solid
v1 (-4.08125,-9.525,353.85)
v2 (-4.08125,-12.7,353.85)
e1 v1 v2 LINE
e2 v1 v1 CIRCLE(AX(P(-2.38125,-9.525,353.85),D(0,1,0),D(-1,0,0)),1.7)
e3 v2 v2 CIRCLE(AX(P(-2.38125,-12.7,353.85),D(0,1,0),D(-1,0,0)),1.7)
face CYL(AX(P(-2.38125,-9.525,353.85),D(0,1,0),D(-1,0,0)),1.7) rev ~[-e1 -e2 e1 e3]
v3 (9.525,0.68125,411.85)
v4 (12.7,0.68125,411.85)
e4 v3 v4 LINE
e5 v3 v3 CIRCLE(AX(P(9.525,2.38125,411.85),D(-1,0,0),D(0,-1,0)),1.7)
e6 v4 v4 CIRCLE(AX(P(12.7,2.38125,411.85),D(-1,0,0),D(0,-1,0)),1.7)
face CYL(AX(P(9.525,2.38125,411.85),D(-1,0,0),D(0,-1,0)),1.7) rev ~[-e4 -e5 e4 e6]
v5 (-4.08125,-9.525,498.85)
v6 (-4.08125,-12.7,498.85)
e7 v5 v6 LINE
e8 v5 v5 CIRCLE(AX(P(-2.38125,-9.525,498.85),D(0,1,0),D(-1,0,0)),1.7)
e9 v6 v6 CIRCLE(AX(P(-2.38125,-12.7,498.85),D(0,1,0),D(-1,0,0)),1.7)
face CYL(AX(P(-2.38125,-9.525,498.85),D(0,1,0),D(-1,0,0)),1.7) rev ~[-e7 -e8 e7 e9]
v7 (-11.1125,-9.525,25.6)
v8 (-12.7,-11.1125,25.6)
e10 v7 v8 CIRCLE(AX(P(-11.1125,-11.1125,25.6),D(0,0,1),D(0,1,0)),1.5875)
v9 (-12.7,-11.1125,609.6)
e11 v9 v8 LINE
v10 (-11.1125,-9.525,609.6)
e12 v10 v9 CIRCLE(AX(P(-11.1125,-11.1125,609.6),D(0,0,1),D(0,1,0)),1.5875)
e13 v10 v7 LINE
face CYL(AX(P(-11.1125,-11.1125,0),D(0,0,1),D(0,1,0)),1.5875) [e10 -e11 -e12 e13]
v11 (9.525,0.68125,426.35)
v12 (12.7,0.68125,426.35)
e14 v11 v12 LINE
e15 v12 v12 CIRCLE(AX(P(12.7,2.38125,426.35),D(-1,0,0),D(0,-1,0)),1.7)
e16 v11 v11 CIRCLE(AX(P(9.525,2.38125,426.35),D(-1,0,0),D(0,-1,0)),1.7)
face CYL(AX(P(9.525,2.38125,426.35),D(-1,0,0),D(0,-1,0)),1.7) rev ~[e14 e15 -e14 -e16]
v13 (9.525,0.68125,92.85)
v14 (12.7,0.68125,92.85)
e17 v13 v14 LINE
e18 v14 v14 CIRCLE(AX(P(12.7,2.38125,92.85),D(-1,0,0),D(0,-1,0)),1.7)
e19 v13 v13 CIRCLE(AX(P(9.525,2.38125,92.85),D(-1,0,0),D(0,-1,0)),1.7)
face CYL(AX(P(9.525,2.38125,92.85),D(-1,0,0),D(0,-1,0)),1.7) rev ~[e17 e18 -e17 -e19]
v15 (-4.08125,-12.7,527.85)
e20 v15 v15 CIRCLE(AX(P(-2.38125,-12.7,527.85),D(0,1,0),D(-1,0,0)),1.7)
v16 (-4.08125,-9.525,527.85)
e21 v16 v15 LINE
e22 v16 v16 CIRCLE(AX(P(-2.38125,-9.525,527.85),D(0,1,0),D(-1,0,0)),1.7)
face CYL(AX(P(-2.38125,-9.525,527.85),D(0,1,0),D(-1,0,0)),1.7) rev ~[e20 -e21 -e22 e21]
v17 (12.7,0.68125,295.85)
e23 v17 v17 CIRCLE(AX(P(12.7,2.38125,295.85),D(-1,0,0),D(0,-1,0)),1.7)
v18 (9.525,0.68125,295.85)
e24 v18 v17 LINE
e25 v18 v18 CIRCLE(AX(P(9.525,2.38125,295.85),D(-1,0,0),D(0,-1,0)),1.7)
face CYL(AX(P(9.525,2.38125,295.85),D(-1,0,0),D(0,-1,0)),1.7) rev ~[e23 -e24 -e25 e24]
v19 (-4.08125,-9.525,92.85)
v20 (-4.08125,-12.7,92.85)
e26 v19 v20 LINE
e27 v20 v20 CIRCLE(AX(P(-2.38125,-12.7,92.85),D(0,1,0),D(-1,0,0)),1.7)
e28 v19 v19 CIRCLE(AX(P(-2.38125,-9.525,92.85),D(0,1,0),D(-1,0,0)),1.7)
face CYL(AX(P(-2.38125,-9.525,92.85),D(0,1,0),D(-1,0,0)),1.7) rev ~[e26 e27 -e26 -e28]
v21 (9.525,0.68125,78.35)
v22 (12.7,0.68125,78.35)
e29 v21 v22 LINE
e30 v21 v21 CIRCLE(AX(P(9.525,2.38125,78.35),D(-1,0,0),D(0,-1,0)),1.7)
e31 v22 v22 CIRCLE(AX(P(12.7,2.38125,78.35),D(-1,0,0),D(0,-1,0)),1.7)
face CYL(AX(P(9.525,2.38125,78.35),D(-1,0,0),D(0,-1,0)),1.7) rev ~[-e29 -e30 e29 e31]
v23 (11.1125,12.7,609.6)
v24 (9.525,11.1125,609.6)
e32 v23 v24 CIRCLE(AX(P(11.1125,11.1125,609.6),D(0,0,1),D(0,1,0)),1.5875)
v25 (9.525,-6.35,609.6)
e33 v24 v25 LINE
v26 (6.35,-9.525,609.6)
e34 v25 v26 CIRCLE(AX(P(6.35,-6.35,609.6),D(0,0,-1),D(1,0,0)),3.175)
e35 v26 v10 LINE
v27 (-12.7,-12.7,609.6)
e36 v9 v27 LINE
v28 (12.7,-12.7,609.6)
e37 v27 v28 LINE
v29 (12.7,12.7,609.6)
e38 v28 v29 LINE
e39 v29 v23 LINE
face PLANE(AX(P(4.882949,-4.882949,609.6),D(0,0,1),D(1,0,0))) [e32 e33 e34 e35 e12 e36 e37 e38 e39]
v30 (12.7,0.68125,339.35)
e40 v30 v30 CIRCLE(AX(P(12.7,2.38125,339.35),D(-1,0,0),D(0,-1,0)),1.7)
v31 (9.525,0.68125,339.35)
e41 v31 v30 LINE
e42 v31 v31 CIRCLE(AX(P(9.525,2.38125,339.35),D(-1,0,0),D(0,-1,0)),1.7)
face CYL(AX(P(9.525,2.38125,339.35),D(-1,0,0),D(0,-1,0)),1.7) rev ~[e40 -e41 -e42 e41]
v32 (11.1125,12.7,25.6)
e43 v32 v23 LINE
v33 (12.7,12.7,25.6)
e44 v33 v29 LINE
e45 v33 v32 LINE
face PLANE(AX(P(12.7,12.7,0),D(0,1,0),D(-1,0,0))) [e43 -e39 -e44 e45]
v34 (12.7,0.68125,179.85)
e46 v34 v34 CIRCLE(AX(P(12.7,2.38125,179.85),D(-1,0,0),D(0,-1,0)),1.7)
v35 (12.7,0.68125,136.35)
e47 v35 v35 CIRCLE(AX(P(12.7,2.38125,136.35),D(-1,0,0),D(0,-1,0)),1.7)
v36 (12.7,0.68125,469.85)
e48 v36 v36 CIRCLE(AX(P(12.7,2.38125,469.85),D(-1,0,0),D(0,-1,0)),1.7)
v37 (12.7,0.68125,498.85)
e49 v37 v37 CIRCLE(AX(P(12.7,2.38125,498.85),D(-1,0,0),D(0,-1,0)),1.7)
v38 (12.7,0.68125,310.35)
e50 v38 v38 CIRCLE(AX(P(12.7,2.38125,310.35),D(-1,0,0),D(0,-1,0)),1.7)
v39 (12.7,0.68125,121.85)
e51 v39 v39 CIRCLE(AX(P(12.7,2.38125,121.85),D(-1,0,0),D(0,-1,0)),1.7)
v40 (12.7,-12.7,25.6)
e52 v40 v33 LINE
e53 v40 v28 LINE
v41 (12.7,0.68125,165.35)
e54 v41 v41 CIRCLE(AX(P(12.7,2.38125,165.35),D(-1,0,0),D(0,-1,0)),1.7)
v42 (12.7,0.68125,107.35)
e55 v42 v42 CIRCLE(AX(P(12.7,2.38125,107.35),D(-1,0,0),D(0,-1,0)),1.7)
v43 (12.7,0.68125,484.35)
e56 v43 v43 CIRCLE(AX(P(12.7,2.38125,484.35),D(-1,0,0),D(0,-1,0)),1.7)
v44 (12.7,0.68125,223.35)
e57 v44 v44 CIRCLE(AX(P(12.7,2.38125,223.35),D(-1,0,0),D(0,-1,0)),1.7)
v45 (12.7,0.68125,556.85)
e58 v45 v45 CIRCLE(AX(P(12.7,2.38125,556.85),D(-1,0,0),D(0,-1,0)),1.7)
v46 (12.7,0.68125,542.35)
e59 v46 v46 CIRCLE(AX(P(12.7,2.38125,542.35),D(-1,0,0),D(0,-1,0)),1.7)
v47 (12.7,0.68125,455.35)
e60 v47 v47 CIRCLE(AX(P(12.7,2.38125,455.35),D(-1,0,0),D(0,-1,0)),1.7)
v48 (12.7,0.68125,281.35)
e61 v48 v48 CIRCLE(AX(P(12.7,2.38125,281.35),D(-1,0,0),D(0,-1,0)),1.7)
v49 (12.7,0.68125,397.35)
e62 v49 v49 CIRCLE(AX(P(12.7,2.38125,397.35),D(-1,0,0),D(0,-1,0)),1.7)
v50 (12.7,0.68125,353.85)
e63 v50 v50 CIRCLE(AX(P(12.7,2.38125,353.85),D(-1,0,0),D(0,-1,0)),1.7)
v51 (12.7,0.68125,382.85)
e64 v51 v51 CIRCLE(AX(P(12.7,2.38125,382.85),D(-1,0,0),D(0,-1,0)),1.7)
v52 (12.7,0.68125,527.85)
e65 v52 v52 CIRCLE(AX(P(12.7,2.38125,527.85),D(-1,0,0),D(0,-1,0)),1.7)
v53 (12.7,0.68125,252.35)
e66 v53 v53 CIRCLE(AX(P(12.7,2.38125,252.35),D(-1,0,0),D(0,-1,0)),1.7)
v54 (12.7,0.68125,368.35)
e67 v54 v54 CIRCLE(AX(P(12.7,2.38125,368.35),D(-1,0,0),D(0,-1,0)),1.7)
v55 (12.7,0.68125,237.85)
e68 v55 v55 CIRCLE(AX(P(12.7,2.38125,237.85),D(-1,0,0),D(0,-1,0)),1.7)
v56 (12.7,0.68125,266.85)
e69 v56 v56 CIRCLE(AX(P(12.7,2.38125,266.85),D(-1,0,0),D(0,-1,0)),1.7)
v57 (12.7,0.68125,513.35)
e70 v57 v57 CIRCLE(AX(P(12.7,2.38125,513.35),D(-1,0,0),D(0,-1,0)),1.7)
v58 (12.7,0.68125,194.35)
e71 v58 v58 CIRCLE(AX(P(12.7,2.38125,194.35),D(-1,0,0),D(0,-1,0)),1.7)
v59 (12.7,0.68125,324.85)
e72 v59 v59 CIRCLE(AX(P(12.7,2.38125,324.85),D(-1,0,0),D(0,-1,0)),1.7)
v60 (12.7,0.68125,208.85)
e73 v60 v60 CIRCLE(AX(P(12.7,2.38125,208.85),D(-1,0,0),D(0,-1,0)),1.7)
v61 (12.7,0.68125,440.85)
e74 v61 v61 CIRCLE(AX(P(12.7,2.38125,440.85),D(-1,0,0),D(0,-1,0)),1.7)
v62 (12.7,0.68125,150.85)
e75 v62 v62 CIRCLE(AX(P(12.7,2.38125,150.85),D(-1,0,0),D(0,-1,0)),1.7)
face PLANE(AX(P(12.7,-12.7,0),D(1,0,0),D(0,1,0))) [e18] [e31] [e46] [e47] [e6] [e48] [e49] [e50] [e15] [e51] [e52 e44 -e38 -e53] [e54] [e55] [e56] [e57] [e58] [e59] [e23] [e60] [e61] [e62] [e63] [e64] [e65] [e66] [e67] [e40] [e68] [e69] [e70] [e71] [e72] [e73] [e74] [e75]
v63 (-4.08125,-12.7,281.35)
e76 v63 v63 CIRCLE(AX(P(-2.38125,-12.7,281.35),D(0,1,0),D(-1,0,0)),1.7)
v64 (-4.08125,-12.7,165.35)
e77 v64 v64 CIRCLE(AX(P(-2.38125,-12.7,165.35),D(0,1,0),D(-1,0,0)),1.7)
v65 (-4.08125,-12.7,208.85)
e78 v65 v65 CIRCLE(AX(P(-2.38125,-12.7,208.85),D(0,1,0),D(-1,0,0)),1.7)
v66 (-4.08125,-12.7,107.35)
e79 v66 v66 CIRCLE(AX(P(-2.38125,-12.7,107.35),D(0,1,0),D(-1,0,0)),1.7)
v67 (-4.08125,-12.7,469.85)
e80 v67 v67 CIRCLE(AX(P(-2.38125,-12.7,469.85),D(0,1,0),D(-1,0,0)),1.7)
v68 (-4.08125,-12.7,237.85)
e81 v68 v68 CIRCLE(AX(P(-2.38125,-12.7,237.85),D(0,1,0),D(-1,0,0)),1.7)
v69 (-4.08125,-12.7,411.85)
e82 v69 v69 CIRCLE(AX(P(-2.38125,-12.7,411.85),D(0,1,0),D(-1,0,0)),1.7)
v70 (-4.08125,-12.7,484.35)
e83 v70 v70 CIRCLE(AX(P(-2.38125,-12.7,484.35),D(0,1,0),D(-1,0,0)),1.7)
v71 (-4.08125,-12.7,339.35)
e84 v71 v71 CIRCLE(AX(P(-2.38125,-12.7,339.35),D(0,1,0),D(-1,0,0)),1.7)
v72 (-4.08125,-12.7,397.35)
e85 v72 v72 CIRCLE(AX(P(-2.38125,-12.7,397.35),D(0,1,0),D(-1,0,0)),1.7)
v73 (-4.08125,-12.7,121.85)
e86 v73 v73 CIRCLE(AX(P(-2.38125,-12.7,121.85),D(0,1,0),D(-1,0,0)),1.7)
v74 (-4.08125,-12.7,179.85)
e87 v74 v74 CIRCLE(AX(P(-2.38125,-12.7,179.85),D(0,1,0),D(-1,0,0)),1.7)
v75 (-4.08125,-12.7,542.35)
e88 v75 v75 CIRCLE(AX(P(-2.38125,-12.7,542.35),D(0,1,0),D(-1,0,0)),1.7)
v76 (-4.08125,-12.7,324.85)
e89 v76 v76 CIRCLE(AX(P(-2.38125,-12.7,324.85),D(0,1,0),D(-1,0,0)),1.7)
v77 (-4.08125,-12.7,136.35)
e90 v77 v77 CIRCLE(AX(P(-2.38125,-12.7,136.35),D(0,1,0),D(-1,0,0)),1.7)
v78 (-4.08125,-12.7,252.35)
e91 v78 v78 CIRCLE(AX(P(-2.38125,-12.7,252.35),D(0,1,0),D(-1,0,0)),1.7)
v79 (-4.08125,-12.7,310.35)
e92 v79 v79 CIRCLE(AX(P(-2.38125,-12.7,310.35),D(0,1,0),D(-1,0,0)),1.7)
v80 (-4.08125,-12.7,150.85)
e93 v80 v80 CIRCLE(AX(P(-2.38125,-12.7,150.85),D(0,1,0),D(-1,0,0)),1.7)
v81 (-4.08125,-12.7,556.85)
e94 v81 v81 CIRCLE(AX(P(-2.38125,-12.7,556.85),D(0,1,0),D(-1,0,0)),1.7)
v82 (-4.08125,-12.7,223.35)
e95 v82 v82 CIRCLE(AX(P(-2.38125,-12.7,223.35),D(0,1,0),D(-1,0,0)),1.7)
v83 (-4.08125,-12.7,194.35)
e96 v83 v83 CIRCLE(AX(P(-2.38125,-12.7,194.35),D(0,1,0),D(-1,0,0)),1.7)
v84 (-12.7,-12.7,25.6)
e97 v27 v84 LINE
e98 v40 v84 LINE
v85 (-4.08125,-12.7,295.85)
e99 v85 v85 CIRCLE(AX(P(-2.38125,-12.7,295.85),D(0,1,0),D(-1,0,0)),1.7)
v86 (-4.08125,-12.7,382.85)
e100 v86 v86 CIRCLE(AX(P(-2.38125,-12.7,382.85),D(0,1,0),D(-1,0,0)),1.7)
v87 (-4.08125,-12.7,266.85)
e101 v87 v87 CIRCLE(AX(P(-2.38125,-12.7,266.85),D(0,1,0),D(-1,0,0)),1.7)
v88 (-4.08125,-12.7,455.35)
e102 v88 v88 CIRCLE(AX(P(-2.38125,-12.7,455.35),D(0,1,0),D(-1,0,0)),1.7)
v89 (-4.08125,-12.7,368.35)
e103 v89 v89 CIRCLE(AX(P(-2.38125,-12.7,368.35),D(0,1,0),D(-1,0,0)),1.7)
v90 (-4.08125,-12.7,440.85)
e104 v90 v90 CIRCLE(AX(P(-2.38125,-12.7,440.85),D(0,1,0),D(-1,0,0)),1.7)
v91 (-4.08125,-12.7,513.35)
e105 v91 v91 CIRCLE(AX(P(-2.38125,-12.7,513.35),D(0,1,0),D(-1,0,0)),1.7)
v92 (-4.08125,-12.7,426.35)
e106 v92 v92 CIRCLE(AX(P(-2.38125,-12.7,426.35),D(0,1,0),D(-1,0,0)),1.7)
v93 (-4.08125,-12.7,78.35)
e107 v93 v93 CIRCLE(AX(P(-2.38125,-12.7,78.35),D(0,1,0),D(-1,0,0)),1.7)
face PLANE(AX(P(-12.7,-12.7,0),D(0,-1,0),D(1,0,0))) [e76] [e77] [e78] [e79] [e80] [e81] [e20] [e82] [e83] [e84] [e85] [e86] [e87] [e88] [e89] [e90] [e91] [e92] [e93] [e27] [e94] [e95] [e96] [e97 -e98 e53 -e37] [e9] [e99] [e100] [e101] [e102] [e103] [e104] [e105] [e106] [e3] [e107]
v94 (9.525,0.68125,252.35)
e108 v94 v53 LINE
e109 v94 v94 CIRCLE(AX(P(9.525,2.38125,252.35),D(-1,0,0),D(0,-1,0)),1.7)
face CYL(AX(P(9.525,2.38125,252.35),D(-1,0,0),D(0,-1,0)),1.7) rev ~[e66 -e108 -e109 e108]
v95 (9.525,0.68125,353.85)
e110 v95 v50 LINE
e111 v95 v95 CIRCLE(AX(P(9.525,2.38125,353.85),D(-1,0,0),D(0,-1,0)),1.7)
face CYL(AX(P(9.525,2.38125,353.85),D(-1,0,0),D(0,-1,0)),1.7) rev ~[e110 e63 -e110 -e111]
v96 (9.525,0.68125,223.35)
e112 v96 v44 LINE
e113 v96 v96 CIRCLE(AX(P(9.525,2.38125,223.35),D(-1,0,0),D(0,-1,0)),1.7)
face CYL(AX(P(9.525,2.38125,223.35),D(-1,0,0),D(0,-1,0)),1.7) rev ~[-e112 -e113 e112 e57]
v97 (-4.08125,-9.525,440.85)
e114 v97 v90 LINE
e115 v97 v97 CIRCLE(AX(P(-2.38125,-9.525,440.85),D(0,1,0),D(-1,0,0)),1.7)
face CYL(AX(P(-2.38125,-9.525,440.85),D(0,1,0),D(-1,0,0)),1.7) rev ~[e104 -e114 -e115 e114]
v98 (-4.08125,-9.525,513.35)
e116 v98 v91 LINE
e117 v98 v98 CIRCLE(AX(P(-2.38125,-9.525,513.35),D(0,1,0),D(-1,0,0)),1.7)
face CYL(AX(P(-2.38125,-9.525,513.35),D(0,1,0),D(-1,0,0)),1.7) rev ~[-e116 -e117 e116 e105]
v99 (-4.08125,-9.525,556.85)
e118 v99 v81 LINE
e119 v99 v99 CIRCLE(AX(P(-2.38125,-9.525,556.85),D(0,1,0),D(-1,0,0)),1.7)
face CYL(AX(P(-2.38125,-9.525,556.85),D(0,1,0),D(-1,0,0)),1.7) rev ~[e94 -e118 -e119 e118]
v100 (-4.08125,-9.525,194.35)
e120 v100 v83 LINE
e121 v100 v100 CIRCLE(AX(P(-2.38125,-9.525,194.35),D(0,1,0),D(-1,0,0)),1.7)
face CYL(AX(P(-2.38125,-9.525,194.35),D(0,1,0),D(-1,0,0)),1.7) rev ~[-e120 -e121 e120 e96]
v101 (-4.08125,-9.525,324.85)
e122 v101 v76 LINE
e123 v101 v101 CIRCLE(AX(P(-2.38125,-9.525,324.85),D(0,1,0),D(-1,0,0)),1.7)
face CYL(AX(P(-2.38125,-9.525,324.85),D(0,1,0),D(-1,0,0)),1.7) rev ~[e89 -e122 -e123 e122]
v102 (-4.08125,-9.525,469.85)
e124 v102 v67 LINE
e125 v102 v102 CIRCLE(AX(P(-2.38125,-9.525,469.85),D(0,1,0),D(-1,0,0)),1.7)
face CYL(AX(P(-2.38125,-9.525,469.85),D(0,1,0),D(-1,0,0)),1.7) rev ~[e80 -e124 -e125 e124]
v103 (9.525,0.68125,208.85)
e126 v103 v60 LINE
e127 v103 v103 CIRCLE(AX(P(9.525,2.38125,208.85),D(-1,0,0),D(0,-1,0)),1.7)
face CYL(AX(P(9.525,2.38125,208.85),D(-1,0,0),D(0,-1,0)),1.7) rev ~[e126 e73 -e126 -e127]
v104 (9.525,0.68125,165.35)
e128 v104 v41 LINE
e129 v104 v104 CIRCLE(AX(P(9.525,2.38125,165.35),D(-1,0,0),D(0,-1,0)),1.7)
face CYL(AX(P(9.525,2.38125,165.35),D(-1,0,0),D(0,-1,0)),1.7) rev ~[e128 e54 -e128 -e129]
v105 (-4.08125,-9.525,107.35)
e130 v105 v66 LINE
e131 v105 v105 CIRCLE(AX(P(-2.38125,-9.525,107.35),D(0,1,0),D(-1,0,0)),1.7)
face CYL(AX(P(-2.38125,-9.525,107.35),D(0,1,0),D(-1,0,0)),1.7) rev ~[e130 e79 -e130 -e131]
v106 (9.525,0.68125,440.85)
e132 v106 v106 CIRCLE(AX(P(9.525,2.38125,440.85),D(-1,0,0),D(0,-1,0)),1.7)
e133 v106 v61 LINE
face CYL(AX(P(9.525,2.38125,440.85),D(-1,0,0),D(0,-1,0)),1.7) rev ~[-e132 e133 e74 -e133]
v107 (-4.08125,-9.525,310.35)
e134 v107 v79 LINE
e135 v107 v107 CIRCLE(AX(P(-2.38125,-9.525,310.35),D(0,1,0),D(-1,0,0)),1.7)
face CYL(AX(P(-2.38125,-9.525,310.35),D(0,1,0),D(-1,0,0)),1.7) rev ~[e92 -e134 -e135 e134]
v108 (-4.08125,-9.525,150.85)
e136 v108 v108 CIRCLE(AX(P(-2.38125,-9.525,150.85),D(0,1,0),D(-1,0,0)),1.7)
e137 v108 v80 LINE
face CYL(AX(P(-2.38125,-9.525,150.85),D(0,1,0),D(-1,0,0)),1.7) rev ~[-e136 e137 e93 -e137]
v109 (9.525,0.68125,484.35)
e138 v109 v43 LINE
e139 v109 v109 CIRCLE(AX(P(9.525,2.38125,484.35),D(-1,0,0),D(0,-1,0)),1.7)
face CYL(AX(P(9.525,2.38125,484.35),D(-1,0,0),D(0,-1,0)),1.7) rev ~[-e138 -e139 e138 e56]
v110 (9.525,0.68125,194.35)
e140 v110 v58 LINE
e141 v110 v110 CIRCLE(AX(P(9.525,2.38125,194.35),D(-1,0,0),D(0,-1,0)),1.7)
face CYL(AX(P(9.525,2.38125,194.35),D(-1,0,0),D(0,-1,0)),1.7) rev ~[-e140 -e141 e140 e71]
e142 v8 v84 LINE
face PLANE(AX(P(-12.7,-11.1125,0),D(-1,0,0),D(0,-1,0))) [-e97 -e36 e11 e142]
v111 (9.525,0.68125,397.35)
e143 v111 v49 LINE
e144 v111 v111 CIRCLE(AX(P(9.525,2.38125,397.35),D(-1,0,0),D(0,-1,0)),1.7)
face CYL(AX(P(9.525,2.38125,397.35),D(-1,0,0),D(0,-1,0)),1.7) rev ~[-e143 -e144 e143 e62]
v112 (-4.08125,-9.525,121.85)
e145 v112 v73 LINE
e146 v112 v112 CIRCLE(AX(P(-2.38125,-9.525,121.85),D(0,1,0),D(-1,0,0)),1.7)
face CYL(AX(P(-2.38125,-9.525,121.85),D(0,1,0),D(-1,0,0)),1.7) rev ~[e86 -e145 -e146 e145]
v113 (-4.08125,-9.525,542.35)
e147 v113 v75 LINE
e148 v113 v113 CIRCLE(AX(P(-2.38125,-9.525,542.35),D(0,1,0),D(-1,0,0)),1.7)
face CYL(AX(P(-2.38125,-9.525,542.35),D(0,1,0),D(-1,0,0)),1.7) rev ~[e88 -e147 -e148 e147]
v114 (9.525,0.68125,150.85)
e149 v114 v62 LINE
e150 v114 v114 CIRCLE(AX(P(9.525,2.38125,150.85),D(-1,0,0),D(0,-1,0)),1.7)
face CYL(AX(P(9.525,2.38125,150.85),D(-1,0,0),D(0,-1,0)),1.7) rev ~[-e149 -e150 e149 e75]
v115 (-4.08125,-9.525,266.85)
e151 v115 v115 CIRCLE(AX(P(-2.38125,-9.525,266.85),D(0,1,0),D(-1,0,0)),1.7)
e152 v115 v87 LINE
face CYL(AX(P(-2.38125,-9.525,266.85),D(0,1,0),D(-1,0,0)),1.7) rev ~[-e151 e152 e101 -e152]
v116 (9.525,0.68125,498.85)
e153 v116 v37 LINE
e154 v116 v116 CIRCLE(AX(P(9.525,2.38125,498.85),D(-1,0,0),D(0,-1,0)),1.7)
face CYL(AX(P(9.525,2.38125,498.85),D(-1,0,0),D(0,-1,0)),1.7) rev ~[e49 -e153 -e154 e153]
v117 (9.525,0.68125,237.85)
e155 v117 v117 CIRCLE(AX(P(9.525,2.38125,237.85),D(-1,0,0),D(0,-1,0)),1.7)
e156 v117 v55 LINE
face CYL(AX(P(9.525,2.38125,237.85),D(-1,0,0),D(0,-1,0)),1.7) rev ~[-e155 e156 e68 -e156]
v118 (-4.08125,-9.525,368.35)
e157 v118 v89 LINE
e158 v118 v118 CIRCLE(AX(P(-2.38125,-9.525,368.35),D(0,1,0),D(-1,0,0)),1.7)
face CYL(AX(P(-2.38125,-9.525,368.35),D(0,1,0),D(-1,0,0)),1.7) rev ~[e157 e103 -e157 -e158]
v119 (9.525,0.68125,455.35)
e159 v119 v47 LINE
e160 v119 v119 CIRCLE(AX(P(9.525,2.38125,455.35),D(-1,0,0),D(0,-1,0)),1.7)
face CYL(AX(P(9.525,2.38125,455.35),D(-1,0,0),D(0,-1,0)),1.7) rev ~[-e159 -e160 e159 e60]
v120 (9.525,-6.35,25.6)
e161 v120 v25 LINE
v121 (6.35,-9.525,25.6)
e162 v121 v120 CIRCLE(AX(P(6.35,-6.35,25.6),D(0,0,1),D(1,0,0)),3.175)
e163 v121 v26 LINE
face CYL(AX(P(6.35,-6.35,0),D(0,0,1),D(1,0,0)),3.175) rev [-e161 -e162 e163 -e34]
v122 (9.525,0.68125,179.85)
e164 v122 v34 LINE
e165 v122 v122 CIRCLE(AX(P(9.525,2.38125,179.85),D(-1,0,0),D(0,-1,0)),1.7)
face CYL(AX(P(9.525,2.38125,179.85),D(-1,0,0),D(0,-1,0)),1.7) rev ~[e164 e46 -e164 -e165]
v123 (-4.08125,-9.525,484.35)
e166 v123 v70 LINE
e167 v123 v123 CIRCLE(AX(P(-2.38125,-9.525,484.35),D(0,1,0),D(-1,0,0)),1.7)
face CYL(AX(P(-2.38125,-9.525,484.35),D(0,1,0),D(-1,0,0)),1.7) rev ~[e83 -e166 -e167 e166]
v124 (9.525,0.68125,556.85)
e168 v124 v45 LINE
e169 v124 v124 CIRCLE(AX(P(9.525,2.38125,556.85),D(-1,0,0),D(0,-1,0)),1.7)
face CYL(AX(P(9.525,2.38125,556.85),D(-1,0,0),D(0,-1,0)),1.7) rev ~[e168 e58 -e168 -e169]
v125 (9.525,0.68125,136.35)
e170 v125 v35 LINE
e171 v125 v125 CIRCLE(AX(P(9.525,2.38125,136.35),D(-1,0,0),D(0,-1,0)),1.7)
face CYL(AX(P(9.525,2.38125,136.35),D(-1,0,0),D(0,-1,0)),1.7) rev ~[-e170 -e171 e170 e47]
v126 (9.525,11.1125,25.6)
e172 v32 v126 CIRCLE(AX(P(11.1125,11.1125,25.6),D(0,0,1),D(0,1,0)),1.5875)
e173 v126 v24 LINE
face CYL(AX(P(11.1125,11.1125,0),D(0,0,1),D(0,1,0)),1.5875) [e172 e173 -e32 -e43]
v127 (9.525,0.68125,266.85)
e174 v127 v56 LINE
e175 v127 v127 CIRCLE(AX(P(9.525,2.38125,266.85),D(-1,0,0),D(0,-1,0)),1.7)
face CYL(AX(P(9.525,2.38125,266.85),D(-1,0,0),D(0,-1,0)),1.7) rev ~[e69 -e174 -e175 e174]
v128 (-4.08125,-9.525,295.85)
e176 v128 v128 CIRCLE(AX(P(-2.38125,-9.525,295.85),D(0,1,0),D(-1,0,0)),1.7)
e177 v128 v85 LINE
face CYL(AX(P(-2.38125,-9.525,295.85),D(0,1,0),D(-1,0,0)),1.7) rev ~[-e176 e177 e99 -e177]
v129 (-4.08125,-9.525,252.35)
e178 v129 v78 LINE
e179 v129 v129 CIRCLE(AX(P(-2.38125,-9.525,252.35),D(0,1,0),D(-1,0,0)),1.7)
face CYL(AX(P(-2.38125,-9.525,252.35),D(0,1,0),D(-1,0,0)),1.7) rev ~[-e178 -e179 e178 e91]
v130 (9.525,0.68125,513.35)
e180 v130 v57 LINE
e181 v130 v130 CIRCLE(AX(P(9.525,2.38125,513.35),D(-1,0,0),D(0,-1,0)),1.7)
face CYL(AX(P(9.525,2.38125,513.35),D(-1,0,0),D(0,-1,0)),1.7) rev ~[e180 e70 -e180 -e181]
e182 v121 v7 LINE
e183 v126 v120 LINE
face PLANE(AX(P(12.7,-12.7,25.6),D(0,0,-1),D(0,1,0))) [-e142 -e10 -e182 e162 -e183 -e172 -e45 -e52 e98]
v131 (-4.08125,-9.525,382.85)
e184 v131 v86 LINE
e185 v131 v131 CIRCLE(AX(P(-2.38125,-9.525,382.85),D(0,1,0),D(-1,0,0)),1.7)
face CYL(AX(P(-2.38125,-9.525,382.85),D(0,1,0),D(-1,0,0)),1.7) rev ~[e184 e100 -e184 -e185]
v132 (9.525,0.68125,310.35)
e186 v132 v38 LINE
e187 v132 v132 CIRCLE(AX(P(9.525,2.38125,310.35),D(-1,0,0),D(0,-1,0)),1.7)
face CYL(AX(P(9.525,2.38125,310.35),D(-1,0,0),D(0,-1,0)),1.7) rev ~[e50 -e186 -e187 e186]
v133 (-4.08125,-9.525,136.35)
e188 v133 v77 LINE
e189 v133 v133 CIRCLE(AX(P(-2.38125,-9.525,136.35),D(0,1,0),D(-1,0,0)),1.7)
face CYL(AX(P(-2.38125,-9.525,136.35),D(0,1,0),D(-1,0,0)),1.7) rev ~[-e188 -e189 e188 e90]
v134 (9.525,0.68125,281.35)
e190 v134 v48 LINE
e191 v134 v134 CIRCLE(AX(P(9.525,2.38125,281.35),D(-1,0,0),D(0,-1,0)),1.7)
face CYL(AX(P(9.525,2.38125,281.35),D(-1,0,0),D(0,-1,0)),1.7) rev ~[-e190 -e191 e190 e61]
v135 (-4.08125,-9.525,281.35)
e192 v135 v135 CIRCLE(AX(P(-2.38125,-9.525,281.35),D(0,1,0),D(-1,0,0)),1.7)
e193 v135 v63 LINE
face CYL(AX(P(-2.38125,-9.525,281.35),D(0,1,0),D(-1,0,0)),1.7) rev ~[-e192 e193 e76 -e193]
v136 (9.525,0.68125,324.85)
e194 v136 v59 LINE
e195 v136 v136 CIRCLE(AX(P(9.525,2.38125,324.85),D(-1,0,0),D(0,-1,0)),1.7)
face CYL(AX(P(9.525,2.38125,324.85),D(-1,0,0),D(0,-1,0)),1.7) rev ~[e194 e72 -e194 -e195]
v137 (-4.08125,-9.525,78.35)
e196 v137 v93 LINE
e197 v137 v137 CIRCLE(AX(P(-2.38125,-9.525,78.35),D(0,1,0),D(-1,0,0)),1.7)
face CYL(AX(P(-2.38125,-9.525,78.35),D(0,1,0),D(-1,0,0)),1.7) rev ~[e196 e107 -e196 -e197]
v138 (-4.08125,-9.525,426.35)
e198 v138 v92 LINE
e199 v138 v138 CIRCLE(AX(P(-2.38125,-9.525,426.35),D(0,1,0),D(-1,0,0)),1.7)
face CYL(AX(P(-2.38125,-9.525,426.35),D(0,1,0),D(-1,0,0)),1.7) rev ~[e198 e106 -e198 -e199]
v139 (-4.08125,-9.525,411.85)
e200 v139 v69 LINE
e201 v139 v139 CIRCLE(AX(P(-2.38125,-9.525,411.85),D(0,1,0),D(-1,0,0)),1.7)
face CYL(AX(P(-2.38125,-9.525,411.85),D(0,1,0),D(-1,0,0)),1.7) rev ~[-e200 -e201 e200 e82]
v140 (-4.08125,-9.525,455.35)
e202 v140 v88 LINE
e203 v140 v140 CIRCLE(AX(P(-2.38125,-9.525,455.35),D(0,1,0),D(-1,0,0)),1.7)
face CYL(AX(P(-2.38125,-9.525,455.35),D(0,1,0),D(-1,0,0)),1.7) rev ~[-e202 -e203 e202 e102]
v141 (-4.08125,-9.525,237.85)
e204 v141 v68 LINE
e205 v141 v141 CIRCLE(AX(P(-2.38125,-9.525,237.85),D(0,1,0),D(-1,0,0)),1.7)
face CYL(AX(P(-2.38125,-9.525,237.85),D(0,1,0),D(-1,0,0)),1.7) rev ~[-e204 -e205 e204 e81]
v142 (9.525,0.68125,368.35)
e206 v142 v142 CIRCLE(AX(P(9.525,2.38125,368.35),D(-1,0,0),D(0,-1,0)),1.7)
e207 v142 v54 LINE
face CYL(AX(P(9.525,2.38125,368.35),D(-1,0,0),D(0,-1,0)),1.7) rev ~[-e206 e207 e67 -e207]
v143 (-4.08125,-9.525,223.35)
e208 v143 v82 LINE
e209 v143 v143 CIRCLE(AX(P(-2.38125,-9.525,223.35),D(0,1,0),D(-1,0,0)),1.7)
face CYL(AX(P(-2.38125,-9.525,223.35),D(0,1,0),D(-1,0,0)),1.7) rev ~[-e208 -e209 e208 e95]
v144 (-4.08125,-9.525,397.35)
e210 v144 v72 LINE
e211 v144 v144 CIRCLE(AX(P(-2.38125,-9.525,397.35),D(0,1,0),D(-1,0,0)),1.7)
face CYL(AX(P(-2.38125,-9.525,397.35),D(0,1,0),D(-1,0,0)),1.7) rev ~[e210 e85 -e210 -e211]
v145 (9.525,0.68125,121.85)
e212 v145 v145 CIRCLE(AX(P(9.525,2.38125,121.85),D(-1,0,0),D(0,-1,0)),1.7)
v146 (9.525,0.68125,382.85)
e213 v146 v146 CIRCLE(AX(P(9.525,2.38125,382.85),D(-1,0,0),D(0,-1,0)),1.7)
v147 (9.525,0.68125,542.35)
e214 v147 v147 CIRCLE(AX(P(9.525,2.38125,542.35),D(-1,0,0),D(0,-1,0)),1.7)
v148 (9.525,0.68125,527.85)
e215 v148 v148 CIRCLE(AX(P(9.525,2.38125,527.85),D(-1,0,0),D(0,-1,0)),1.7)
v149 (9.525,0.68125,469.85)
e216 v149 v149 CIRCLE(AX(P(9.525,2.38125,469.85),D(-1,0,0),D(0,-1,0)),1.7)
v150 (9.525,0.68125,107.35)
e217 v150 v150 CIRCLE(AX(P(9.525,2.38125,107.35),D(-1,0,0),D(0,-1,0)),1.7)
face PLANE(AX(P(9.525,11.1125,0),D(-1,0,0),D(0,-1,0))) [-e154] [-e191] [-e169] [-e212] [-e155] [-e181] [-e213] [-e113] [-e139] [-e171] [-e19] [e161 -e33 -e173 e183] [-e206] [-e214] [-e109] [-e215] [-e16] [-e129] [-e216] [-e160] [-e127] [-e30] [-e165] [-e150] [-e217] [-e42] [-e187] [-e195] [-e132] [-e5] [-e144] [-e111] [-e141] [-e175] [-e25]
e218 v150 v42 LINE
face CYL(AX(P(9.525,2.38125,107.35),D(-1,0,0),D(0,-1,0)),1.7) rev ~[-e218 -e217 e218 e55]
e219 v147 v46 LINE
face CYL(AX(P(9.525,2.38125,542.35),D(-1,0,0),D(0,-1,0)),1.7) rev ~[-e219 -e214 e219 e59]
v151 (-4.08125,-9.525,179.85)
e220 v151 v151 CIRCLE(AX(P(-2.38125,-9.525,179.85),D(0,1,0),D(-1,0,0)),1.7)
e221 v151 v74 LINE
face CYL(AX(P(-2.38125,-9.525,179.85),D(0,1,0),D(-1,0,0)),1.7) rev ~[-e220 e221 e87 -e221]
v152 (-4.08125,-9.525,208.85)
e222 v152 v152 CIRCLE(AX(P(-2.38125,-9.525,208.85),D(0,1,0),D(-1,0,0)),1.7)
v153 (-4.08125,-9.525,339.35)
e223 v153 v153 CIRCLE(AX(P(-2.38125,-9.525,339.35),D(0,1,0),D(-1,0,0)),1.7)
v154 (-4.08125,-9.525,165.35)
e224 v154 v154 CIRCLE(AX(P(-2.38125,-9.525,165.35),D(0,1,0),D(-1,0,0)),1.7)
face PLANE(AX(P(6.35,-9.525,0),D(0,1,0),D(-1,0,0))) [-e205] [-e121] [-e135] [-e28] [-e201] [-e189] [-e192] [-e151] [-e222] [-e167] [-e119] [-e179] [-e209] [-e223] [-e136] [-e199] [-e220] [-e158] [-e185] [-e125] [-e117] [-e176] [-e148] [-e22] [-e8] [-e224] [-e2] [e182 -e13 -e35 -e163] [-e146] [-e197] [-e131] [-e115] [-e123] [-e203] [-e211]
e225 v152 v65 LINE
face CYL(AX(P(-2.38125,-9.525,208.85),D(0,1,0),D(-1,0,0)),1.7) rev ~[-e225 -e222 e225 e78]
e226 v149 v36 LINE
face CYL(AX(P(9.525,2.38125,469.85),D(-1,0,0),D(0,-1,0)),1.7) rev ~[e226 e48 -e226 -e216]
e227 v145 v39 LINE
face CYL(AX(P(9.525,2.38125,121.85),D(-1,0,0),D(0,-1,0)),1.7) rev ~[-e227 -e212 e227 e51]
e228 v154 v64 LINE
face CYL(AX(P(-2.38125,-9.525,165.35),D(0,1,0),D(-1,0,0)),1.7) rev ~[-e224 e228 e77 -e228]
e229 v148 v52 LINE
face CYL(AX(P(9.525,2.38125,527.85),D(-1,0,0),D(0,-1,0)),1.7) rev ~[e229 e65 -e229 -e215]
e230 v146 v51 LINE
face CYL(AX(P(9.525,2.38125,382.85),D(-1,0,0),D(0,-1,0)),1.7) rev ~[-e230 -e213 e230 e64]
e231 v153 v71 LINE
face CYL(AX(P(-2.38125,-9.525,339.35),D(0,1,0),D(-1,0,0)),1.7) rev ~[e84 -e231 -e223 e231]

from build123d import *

# Parameters (mm, degrees)
BOSS_EXTRUDE1_DEPTH = 609.6
SKETCH3_W           = 635.2
SKETCH3_H           = 25.4
CUT_EXTRUDE2_DEPTH  = 30.48
SKETCH5_R           = 1.7
CUT_EXTRUDE3_DEPTH  = 611.137198198
SKETCH7_R           = 1.7
CUT_EXTRUDE4_DEPTH  = 611.137198198


with BuildPart() as part:
    # Sketch2 → Boss-Extrude1 (new, symmetric)
    with BuildSketch(Plane.XY):
        with BuildLine():
            Line((-12.7, -12.7), (12.7, -12.7))
            Line((12.7, -12.7), (12.7, 12.7))
            Line((12.7, 12.7), (11.1125, 12.7))
            ThreePointArc((11.1125, 12.7), (9.989967985, 12.235032015), (9.525, 11.1125))
            Line((9.525, 11.1125), (9.525, -6.35))
            ThreePointArc((9.525, -6.35), (8.59506403, -8.59506403), (6.35, -9.525))
            Line((6.35, -9.525), (-11.1125, -9.525))
            ThreePointArc((-11.1125, -9.525), (-12.235032015, -9.989967985), (-12.7, -11.1125))
            Line((-12.7, -11.1125), (-12.7, -12.7))
        make_face()
    extrude(amount=BOSS_EXTRUDE1_DEPTH, both=True)

    # Sketch3 → Cut-Extrude2 (cut)
    with BuildSketch(Plane(origin=(12.7, 0, 0), x_dir=(0, 0, -1), z_dir=(1, 0, 0))):
        with Locations((292, 0)):
            Rectangle(SKETCH3_W, SKETCH3_H)
    extrude(amount=-CUT_EXTRUDE2_DEPTH, mode=Mode.SUBTRACT)

    # Sketch5 → Cut-Extrude3 (cut, through all)
    with BuildSketch(Plane.ZY.offset(-9.525)):
        with Locations(Location((78.35, 2.38125, 0), (0, 0, 270))):
            Circle(SKETCH5_R)
        with Locations(Location((92.85, 2.38125, 0), (0, 0, 270))):
            Circle(SKETCH5_R)
        with Locations(Location((107.35, 2.38125, 0), (0, 0, 270))):
            Circle(SKETCH5_R)
        with Locations(Location((121.85, 2.38125, 0), (0, 0, 270))):
            Circle(SKETCH5_R)
        with Locations(Location((136.35, 2.38125, 0), (0, 0, 270))):
            Circle(SKETCH5_R)
        with Locations(Location((150.85, 2.38125, 0), (0, 0, 270))):
            Circle(SKETCH5_R)
        with Locations(Location((165.35, 2.38125, 0), (0, 0, 270))):
            Circle(SKETCH5_R)
        with Locations(Location((179.85, 2.38125, 0), (0, 0, 270))):
            Circle(SKETCH5_R)
        with Locations(Location((194.35, 2.38125, 0), (0, 0, 270))):
            Circle(SKETCH5_R)
        with Locations(Location((208.85, 2.38125, 0), (0, 0, 270))):
            Circle(SKETCH5_R)
        with Locations(Location((223.35, 2.38125, 0), (0, 0, 270))):
            Circle(SKETCH5_R)
        with Locations(Location((237.85, 2.38125, 0), (0, 0, 270))):
            Circle(SKETCH5_R)
        with Locations(Location((252.35, 2.38125, 0), (0, 0, 270))):
            Circle(SKETCH5_R)
        with Locations(Location((266.85, 2.38125, 0), (0, 0, 270))):
            Circle(SKETCH5_R)
        with Locations(Location((281.35, 2.38125, 0), (0, 0, 270))):
            Circle(SKETCH5_R)
        with Locations(Location((295.85, 2.38125, 0), (0, 0, 270))):
            Circle(SKETCH5_R)
        with Locations(Location((310.35, 2.38125, 0), (0, 0, 270))):
            Circle(SKETCH5_R)
        with Locations(Location((324.85, 2.38125, 0), (0, 0, 270))):
            Circle(SKETCH5_R)
        with Locations(Location((339.35, 2.38125, 0), (0, 0, 270))):
            Circle(SKETCH5_R)
        with Locations(Location((353.85, 2.38125, 0), (0, 0, 270))):
            Circle(SKETCH5_R)
        with Locations(Location((368.35, 2.38125, 0), (0, 0, 270))):
            Circle(SKETCH5_R)
        with Locations(Location((382.85, 2.38125, 0), (0, 0, 270))):
            Circle(SKETCH5_R)
        with Locations(Location((397.35, 2.38125, 0), (0, 0, 270))):
            Circle(SKETCH5_R)
        with Locations(Location((411.85, 2.38125, 0), (0, 0, 270))):
            Circle(SKETCH5_R)
        with Locations(Location((426.35, 2.38125, 0), (0, 0, 270))):
            Circle(SKETCH5_R)
        with Locations(Location((440.85, 2.38125, 0), (0, 0, 270))):
            Circle(SKETCH5_R)
        with Locations(Location((455.35, 2.38125, 0), (0, 0, 270))):
            Circle(SKETCH5_R)
        with Locations(Location((469.85, 2.38125, 0), (0, 0, 270))):
            Circle(SKETCH5_R)
        with Locations(Location((484.35, 2.38125, 0), (0, 0, 270))):
            Circle(SKETCH5_R)
        with Locations(Location((498.85, 2.38125, 0), (0, 0, 270))):
            Circle(SKETCH5_R)
        with Locations(Location((513.35, 2.38125, 0), (0, 0, 270))):
            Circle(SKETCH5_R)
        with Locations(Location((527.85, 2.38125, 0), (0, 0, 270))):
            Circle(SKETCH5_R)
        with Locations(Location((542.35, 2.38125, 0), (0, 0, 270))):
            Circle(SKETCH5_R)
        with Locations(Location((556.85, 2.38125, 0), (0, 0, 270))):
            Circle(SKETCH5_R)
    extrude(amount=-CUT_EXTRUDE3_DEPTH, mode=Mode.SUBTRACT)

    # Sketch7 → Cut-Extrude4 (cut, through all)
    with BuildSketch(Plane(origin=(0, -9.525, 0), x_dir=(1, 0, 0), z_dir=(0, 1, 0))):
        with Locations(Location((-2.38125, -78.35, 0), (0, 0, 180))):
            Circle(SKETCH7_R)
        with Locations(Location((-2.38125, -92.85, 0), (0, 0, 180))):
            Circle(SKETCH7_R)
        with Locations(Location((-2.38125, -107.35, 0), (0, 0, 180))):
            Circle(SKETCH7_R)
        with Locations(Location((-2.38125, -121.85, 0), (0, 0, 180))):
            Circle(SKETCH7_R)
        with Locations(Location((-2.38125, -136.35, 0), (0, 0, 180))):
            Circle(SKETCH7_R)
        with Locations(Location((-2.38125, -150.85, 0), (0, 0, 180))):
            Circle(SKETCH7_R)
        with Locations(Location((-2.38125, -165.35, 0), (0, 0, 180))):
            Circle(SKETCH7_R)
        with Locations(Location((-2.38125, -179.85, 0), (0, 0, 180))):
            Circle(SKETCH7_R)
        with Locations(Location((-2.38125, -194.35, 0), (0, 0, 180))):
            Circle(SKETCH7_R)
        with Locations(Location((-2.38125, -208.85, 0), (0, 0, 180))):
            Circle(SKETCH7_R)
        with Locations(Location((-2.38125, -223.35, 0), (0, 0, 180))):
            Circle(SKETCH7_R)
        with Locations(Location((-2.38125, -237.85, 0), (0, 0, 180))):
            Circle(SKETCH7_R)
        with Locations(Location((-2.38125, -252.35, 0), (0, 0, 180))):
            Circle(SKETCH7_R)
        with Locations(Location((-2.38125, -266.85, 0), (0, 0, 180))):
            Circle(SKETCH7_R)
        with Locations(Location((-2.38125, -281.35, 0), (0, 0, 180))):
            Circle(SKETCH7_R)
        with Locations(Location((-2.38125, -295.85, 0), (0, 0, 180))):
            Circle(SKETCH7_R)
        with Locations(Location((-2.38125, -310.35, 0), (0, 0, 180))):
            Circle(SKETCH7_R)
        with Locations(Location((-2.38125, -324.85, 0), (0, 0, 180))):
            Circle(SKETCH7_R)
        with Locations(Location((-2.38125, -339.35, 0), (0, 0, 180))):
            Circle(SKETCH7_R)
        with Locations(Location((-2.38125, -353.85, 0), (0, 0, 180))):
            Circle(SKETCH7_R)
        with Locations(Location((-2.38125, -368.35, 0), (0, 0, 180))):
            Circle(SKETCH7_R)
        with Locations(Location((-2.38125, -382.85, 0), (0, 0, 180))):
            Circle(SKETCH7_R)
        with Locations(Location((-2.38125, -397.35, 0), (0, 0, 180))):
            Circle(SKETCH7_R)
        with Locations(Location((-2.38125, -411.85, 0), (0, 0, 180))):
            Circle(SKETCH7_R)
        with Locations(Location((-2.38125, -426.35, 0), (0, 0, 180))):
            Circle(SKETCH7_R)
        with Locations(Location((-2.38125, -440.85, 0), (0, 0, 180))):
            Circle(SKETCH7_R)
        with Locations(Location((-2.38125, -455.35, 0), (0, 0, 180))):
            Circle(SKETCH7_R)
        with Locations(Location((-2.38125, -469.85, 0), (0, 0, 180))):
            Circle(SKETCH7_R)
        with Locations(Location((-2.38125, -484.35, 0), (0, 0, 180))):
            Circle(SKETCH7_R)
        with Locations(Location((-2.38125, -498.85, 0), (0, 0, 180))):
            Circle(SKETCH7_R)
        with Locations(Location((-2.38125, -513.35, 0), (0, 0, 180))):
            Circle(SKETCH7_R)
        with Locations(Location((-2.38125, -527.85, 0), (0, 0, 180))):
            Circle(SKETCH7_R)
        with Locations(Location((-2.38125, -542.35, 0), (0, 0, 180))):
            Circle(SKETCH7_R)
        with Locations(Location((-2.38125, -556.85, 0), (0, 0, 180))):
            Circle(SKETCH7_R)
    extrude(amount=-CUT_EXTRUDE4_DEPTH, mode=Mode.SUBTRACT)


solid = part.part
